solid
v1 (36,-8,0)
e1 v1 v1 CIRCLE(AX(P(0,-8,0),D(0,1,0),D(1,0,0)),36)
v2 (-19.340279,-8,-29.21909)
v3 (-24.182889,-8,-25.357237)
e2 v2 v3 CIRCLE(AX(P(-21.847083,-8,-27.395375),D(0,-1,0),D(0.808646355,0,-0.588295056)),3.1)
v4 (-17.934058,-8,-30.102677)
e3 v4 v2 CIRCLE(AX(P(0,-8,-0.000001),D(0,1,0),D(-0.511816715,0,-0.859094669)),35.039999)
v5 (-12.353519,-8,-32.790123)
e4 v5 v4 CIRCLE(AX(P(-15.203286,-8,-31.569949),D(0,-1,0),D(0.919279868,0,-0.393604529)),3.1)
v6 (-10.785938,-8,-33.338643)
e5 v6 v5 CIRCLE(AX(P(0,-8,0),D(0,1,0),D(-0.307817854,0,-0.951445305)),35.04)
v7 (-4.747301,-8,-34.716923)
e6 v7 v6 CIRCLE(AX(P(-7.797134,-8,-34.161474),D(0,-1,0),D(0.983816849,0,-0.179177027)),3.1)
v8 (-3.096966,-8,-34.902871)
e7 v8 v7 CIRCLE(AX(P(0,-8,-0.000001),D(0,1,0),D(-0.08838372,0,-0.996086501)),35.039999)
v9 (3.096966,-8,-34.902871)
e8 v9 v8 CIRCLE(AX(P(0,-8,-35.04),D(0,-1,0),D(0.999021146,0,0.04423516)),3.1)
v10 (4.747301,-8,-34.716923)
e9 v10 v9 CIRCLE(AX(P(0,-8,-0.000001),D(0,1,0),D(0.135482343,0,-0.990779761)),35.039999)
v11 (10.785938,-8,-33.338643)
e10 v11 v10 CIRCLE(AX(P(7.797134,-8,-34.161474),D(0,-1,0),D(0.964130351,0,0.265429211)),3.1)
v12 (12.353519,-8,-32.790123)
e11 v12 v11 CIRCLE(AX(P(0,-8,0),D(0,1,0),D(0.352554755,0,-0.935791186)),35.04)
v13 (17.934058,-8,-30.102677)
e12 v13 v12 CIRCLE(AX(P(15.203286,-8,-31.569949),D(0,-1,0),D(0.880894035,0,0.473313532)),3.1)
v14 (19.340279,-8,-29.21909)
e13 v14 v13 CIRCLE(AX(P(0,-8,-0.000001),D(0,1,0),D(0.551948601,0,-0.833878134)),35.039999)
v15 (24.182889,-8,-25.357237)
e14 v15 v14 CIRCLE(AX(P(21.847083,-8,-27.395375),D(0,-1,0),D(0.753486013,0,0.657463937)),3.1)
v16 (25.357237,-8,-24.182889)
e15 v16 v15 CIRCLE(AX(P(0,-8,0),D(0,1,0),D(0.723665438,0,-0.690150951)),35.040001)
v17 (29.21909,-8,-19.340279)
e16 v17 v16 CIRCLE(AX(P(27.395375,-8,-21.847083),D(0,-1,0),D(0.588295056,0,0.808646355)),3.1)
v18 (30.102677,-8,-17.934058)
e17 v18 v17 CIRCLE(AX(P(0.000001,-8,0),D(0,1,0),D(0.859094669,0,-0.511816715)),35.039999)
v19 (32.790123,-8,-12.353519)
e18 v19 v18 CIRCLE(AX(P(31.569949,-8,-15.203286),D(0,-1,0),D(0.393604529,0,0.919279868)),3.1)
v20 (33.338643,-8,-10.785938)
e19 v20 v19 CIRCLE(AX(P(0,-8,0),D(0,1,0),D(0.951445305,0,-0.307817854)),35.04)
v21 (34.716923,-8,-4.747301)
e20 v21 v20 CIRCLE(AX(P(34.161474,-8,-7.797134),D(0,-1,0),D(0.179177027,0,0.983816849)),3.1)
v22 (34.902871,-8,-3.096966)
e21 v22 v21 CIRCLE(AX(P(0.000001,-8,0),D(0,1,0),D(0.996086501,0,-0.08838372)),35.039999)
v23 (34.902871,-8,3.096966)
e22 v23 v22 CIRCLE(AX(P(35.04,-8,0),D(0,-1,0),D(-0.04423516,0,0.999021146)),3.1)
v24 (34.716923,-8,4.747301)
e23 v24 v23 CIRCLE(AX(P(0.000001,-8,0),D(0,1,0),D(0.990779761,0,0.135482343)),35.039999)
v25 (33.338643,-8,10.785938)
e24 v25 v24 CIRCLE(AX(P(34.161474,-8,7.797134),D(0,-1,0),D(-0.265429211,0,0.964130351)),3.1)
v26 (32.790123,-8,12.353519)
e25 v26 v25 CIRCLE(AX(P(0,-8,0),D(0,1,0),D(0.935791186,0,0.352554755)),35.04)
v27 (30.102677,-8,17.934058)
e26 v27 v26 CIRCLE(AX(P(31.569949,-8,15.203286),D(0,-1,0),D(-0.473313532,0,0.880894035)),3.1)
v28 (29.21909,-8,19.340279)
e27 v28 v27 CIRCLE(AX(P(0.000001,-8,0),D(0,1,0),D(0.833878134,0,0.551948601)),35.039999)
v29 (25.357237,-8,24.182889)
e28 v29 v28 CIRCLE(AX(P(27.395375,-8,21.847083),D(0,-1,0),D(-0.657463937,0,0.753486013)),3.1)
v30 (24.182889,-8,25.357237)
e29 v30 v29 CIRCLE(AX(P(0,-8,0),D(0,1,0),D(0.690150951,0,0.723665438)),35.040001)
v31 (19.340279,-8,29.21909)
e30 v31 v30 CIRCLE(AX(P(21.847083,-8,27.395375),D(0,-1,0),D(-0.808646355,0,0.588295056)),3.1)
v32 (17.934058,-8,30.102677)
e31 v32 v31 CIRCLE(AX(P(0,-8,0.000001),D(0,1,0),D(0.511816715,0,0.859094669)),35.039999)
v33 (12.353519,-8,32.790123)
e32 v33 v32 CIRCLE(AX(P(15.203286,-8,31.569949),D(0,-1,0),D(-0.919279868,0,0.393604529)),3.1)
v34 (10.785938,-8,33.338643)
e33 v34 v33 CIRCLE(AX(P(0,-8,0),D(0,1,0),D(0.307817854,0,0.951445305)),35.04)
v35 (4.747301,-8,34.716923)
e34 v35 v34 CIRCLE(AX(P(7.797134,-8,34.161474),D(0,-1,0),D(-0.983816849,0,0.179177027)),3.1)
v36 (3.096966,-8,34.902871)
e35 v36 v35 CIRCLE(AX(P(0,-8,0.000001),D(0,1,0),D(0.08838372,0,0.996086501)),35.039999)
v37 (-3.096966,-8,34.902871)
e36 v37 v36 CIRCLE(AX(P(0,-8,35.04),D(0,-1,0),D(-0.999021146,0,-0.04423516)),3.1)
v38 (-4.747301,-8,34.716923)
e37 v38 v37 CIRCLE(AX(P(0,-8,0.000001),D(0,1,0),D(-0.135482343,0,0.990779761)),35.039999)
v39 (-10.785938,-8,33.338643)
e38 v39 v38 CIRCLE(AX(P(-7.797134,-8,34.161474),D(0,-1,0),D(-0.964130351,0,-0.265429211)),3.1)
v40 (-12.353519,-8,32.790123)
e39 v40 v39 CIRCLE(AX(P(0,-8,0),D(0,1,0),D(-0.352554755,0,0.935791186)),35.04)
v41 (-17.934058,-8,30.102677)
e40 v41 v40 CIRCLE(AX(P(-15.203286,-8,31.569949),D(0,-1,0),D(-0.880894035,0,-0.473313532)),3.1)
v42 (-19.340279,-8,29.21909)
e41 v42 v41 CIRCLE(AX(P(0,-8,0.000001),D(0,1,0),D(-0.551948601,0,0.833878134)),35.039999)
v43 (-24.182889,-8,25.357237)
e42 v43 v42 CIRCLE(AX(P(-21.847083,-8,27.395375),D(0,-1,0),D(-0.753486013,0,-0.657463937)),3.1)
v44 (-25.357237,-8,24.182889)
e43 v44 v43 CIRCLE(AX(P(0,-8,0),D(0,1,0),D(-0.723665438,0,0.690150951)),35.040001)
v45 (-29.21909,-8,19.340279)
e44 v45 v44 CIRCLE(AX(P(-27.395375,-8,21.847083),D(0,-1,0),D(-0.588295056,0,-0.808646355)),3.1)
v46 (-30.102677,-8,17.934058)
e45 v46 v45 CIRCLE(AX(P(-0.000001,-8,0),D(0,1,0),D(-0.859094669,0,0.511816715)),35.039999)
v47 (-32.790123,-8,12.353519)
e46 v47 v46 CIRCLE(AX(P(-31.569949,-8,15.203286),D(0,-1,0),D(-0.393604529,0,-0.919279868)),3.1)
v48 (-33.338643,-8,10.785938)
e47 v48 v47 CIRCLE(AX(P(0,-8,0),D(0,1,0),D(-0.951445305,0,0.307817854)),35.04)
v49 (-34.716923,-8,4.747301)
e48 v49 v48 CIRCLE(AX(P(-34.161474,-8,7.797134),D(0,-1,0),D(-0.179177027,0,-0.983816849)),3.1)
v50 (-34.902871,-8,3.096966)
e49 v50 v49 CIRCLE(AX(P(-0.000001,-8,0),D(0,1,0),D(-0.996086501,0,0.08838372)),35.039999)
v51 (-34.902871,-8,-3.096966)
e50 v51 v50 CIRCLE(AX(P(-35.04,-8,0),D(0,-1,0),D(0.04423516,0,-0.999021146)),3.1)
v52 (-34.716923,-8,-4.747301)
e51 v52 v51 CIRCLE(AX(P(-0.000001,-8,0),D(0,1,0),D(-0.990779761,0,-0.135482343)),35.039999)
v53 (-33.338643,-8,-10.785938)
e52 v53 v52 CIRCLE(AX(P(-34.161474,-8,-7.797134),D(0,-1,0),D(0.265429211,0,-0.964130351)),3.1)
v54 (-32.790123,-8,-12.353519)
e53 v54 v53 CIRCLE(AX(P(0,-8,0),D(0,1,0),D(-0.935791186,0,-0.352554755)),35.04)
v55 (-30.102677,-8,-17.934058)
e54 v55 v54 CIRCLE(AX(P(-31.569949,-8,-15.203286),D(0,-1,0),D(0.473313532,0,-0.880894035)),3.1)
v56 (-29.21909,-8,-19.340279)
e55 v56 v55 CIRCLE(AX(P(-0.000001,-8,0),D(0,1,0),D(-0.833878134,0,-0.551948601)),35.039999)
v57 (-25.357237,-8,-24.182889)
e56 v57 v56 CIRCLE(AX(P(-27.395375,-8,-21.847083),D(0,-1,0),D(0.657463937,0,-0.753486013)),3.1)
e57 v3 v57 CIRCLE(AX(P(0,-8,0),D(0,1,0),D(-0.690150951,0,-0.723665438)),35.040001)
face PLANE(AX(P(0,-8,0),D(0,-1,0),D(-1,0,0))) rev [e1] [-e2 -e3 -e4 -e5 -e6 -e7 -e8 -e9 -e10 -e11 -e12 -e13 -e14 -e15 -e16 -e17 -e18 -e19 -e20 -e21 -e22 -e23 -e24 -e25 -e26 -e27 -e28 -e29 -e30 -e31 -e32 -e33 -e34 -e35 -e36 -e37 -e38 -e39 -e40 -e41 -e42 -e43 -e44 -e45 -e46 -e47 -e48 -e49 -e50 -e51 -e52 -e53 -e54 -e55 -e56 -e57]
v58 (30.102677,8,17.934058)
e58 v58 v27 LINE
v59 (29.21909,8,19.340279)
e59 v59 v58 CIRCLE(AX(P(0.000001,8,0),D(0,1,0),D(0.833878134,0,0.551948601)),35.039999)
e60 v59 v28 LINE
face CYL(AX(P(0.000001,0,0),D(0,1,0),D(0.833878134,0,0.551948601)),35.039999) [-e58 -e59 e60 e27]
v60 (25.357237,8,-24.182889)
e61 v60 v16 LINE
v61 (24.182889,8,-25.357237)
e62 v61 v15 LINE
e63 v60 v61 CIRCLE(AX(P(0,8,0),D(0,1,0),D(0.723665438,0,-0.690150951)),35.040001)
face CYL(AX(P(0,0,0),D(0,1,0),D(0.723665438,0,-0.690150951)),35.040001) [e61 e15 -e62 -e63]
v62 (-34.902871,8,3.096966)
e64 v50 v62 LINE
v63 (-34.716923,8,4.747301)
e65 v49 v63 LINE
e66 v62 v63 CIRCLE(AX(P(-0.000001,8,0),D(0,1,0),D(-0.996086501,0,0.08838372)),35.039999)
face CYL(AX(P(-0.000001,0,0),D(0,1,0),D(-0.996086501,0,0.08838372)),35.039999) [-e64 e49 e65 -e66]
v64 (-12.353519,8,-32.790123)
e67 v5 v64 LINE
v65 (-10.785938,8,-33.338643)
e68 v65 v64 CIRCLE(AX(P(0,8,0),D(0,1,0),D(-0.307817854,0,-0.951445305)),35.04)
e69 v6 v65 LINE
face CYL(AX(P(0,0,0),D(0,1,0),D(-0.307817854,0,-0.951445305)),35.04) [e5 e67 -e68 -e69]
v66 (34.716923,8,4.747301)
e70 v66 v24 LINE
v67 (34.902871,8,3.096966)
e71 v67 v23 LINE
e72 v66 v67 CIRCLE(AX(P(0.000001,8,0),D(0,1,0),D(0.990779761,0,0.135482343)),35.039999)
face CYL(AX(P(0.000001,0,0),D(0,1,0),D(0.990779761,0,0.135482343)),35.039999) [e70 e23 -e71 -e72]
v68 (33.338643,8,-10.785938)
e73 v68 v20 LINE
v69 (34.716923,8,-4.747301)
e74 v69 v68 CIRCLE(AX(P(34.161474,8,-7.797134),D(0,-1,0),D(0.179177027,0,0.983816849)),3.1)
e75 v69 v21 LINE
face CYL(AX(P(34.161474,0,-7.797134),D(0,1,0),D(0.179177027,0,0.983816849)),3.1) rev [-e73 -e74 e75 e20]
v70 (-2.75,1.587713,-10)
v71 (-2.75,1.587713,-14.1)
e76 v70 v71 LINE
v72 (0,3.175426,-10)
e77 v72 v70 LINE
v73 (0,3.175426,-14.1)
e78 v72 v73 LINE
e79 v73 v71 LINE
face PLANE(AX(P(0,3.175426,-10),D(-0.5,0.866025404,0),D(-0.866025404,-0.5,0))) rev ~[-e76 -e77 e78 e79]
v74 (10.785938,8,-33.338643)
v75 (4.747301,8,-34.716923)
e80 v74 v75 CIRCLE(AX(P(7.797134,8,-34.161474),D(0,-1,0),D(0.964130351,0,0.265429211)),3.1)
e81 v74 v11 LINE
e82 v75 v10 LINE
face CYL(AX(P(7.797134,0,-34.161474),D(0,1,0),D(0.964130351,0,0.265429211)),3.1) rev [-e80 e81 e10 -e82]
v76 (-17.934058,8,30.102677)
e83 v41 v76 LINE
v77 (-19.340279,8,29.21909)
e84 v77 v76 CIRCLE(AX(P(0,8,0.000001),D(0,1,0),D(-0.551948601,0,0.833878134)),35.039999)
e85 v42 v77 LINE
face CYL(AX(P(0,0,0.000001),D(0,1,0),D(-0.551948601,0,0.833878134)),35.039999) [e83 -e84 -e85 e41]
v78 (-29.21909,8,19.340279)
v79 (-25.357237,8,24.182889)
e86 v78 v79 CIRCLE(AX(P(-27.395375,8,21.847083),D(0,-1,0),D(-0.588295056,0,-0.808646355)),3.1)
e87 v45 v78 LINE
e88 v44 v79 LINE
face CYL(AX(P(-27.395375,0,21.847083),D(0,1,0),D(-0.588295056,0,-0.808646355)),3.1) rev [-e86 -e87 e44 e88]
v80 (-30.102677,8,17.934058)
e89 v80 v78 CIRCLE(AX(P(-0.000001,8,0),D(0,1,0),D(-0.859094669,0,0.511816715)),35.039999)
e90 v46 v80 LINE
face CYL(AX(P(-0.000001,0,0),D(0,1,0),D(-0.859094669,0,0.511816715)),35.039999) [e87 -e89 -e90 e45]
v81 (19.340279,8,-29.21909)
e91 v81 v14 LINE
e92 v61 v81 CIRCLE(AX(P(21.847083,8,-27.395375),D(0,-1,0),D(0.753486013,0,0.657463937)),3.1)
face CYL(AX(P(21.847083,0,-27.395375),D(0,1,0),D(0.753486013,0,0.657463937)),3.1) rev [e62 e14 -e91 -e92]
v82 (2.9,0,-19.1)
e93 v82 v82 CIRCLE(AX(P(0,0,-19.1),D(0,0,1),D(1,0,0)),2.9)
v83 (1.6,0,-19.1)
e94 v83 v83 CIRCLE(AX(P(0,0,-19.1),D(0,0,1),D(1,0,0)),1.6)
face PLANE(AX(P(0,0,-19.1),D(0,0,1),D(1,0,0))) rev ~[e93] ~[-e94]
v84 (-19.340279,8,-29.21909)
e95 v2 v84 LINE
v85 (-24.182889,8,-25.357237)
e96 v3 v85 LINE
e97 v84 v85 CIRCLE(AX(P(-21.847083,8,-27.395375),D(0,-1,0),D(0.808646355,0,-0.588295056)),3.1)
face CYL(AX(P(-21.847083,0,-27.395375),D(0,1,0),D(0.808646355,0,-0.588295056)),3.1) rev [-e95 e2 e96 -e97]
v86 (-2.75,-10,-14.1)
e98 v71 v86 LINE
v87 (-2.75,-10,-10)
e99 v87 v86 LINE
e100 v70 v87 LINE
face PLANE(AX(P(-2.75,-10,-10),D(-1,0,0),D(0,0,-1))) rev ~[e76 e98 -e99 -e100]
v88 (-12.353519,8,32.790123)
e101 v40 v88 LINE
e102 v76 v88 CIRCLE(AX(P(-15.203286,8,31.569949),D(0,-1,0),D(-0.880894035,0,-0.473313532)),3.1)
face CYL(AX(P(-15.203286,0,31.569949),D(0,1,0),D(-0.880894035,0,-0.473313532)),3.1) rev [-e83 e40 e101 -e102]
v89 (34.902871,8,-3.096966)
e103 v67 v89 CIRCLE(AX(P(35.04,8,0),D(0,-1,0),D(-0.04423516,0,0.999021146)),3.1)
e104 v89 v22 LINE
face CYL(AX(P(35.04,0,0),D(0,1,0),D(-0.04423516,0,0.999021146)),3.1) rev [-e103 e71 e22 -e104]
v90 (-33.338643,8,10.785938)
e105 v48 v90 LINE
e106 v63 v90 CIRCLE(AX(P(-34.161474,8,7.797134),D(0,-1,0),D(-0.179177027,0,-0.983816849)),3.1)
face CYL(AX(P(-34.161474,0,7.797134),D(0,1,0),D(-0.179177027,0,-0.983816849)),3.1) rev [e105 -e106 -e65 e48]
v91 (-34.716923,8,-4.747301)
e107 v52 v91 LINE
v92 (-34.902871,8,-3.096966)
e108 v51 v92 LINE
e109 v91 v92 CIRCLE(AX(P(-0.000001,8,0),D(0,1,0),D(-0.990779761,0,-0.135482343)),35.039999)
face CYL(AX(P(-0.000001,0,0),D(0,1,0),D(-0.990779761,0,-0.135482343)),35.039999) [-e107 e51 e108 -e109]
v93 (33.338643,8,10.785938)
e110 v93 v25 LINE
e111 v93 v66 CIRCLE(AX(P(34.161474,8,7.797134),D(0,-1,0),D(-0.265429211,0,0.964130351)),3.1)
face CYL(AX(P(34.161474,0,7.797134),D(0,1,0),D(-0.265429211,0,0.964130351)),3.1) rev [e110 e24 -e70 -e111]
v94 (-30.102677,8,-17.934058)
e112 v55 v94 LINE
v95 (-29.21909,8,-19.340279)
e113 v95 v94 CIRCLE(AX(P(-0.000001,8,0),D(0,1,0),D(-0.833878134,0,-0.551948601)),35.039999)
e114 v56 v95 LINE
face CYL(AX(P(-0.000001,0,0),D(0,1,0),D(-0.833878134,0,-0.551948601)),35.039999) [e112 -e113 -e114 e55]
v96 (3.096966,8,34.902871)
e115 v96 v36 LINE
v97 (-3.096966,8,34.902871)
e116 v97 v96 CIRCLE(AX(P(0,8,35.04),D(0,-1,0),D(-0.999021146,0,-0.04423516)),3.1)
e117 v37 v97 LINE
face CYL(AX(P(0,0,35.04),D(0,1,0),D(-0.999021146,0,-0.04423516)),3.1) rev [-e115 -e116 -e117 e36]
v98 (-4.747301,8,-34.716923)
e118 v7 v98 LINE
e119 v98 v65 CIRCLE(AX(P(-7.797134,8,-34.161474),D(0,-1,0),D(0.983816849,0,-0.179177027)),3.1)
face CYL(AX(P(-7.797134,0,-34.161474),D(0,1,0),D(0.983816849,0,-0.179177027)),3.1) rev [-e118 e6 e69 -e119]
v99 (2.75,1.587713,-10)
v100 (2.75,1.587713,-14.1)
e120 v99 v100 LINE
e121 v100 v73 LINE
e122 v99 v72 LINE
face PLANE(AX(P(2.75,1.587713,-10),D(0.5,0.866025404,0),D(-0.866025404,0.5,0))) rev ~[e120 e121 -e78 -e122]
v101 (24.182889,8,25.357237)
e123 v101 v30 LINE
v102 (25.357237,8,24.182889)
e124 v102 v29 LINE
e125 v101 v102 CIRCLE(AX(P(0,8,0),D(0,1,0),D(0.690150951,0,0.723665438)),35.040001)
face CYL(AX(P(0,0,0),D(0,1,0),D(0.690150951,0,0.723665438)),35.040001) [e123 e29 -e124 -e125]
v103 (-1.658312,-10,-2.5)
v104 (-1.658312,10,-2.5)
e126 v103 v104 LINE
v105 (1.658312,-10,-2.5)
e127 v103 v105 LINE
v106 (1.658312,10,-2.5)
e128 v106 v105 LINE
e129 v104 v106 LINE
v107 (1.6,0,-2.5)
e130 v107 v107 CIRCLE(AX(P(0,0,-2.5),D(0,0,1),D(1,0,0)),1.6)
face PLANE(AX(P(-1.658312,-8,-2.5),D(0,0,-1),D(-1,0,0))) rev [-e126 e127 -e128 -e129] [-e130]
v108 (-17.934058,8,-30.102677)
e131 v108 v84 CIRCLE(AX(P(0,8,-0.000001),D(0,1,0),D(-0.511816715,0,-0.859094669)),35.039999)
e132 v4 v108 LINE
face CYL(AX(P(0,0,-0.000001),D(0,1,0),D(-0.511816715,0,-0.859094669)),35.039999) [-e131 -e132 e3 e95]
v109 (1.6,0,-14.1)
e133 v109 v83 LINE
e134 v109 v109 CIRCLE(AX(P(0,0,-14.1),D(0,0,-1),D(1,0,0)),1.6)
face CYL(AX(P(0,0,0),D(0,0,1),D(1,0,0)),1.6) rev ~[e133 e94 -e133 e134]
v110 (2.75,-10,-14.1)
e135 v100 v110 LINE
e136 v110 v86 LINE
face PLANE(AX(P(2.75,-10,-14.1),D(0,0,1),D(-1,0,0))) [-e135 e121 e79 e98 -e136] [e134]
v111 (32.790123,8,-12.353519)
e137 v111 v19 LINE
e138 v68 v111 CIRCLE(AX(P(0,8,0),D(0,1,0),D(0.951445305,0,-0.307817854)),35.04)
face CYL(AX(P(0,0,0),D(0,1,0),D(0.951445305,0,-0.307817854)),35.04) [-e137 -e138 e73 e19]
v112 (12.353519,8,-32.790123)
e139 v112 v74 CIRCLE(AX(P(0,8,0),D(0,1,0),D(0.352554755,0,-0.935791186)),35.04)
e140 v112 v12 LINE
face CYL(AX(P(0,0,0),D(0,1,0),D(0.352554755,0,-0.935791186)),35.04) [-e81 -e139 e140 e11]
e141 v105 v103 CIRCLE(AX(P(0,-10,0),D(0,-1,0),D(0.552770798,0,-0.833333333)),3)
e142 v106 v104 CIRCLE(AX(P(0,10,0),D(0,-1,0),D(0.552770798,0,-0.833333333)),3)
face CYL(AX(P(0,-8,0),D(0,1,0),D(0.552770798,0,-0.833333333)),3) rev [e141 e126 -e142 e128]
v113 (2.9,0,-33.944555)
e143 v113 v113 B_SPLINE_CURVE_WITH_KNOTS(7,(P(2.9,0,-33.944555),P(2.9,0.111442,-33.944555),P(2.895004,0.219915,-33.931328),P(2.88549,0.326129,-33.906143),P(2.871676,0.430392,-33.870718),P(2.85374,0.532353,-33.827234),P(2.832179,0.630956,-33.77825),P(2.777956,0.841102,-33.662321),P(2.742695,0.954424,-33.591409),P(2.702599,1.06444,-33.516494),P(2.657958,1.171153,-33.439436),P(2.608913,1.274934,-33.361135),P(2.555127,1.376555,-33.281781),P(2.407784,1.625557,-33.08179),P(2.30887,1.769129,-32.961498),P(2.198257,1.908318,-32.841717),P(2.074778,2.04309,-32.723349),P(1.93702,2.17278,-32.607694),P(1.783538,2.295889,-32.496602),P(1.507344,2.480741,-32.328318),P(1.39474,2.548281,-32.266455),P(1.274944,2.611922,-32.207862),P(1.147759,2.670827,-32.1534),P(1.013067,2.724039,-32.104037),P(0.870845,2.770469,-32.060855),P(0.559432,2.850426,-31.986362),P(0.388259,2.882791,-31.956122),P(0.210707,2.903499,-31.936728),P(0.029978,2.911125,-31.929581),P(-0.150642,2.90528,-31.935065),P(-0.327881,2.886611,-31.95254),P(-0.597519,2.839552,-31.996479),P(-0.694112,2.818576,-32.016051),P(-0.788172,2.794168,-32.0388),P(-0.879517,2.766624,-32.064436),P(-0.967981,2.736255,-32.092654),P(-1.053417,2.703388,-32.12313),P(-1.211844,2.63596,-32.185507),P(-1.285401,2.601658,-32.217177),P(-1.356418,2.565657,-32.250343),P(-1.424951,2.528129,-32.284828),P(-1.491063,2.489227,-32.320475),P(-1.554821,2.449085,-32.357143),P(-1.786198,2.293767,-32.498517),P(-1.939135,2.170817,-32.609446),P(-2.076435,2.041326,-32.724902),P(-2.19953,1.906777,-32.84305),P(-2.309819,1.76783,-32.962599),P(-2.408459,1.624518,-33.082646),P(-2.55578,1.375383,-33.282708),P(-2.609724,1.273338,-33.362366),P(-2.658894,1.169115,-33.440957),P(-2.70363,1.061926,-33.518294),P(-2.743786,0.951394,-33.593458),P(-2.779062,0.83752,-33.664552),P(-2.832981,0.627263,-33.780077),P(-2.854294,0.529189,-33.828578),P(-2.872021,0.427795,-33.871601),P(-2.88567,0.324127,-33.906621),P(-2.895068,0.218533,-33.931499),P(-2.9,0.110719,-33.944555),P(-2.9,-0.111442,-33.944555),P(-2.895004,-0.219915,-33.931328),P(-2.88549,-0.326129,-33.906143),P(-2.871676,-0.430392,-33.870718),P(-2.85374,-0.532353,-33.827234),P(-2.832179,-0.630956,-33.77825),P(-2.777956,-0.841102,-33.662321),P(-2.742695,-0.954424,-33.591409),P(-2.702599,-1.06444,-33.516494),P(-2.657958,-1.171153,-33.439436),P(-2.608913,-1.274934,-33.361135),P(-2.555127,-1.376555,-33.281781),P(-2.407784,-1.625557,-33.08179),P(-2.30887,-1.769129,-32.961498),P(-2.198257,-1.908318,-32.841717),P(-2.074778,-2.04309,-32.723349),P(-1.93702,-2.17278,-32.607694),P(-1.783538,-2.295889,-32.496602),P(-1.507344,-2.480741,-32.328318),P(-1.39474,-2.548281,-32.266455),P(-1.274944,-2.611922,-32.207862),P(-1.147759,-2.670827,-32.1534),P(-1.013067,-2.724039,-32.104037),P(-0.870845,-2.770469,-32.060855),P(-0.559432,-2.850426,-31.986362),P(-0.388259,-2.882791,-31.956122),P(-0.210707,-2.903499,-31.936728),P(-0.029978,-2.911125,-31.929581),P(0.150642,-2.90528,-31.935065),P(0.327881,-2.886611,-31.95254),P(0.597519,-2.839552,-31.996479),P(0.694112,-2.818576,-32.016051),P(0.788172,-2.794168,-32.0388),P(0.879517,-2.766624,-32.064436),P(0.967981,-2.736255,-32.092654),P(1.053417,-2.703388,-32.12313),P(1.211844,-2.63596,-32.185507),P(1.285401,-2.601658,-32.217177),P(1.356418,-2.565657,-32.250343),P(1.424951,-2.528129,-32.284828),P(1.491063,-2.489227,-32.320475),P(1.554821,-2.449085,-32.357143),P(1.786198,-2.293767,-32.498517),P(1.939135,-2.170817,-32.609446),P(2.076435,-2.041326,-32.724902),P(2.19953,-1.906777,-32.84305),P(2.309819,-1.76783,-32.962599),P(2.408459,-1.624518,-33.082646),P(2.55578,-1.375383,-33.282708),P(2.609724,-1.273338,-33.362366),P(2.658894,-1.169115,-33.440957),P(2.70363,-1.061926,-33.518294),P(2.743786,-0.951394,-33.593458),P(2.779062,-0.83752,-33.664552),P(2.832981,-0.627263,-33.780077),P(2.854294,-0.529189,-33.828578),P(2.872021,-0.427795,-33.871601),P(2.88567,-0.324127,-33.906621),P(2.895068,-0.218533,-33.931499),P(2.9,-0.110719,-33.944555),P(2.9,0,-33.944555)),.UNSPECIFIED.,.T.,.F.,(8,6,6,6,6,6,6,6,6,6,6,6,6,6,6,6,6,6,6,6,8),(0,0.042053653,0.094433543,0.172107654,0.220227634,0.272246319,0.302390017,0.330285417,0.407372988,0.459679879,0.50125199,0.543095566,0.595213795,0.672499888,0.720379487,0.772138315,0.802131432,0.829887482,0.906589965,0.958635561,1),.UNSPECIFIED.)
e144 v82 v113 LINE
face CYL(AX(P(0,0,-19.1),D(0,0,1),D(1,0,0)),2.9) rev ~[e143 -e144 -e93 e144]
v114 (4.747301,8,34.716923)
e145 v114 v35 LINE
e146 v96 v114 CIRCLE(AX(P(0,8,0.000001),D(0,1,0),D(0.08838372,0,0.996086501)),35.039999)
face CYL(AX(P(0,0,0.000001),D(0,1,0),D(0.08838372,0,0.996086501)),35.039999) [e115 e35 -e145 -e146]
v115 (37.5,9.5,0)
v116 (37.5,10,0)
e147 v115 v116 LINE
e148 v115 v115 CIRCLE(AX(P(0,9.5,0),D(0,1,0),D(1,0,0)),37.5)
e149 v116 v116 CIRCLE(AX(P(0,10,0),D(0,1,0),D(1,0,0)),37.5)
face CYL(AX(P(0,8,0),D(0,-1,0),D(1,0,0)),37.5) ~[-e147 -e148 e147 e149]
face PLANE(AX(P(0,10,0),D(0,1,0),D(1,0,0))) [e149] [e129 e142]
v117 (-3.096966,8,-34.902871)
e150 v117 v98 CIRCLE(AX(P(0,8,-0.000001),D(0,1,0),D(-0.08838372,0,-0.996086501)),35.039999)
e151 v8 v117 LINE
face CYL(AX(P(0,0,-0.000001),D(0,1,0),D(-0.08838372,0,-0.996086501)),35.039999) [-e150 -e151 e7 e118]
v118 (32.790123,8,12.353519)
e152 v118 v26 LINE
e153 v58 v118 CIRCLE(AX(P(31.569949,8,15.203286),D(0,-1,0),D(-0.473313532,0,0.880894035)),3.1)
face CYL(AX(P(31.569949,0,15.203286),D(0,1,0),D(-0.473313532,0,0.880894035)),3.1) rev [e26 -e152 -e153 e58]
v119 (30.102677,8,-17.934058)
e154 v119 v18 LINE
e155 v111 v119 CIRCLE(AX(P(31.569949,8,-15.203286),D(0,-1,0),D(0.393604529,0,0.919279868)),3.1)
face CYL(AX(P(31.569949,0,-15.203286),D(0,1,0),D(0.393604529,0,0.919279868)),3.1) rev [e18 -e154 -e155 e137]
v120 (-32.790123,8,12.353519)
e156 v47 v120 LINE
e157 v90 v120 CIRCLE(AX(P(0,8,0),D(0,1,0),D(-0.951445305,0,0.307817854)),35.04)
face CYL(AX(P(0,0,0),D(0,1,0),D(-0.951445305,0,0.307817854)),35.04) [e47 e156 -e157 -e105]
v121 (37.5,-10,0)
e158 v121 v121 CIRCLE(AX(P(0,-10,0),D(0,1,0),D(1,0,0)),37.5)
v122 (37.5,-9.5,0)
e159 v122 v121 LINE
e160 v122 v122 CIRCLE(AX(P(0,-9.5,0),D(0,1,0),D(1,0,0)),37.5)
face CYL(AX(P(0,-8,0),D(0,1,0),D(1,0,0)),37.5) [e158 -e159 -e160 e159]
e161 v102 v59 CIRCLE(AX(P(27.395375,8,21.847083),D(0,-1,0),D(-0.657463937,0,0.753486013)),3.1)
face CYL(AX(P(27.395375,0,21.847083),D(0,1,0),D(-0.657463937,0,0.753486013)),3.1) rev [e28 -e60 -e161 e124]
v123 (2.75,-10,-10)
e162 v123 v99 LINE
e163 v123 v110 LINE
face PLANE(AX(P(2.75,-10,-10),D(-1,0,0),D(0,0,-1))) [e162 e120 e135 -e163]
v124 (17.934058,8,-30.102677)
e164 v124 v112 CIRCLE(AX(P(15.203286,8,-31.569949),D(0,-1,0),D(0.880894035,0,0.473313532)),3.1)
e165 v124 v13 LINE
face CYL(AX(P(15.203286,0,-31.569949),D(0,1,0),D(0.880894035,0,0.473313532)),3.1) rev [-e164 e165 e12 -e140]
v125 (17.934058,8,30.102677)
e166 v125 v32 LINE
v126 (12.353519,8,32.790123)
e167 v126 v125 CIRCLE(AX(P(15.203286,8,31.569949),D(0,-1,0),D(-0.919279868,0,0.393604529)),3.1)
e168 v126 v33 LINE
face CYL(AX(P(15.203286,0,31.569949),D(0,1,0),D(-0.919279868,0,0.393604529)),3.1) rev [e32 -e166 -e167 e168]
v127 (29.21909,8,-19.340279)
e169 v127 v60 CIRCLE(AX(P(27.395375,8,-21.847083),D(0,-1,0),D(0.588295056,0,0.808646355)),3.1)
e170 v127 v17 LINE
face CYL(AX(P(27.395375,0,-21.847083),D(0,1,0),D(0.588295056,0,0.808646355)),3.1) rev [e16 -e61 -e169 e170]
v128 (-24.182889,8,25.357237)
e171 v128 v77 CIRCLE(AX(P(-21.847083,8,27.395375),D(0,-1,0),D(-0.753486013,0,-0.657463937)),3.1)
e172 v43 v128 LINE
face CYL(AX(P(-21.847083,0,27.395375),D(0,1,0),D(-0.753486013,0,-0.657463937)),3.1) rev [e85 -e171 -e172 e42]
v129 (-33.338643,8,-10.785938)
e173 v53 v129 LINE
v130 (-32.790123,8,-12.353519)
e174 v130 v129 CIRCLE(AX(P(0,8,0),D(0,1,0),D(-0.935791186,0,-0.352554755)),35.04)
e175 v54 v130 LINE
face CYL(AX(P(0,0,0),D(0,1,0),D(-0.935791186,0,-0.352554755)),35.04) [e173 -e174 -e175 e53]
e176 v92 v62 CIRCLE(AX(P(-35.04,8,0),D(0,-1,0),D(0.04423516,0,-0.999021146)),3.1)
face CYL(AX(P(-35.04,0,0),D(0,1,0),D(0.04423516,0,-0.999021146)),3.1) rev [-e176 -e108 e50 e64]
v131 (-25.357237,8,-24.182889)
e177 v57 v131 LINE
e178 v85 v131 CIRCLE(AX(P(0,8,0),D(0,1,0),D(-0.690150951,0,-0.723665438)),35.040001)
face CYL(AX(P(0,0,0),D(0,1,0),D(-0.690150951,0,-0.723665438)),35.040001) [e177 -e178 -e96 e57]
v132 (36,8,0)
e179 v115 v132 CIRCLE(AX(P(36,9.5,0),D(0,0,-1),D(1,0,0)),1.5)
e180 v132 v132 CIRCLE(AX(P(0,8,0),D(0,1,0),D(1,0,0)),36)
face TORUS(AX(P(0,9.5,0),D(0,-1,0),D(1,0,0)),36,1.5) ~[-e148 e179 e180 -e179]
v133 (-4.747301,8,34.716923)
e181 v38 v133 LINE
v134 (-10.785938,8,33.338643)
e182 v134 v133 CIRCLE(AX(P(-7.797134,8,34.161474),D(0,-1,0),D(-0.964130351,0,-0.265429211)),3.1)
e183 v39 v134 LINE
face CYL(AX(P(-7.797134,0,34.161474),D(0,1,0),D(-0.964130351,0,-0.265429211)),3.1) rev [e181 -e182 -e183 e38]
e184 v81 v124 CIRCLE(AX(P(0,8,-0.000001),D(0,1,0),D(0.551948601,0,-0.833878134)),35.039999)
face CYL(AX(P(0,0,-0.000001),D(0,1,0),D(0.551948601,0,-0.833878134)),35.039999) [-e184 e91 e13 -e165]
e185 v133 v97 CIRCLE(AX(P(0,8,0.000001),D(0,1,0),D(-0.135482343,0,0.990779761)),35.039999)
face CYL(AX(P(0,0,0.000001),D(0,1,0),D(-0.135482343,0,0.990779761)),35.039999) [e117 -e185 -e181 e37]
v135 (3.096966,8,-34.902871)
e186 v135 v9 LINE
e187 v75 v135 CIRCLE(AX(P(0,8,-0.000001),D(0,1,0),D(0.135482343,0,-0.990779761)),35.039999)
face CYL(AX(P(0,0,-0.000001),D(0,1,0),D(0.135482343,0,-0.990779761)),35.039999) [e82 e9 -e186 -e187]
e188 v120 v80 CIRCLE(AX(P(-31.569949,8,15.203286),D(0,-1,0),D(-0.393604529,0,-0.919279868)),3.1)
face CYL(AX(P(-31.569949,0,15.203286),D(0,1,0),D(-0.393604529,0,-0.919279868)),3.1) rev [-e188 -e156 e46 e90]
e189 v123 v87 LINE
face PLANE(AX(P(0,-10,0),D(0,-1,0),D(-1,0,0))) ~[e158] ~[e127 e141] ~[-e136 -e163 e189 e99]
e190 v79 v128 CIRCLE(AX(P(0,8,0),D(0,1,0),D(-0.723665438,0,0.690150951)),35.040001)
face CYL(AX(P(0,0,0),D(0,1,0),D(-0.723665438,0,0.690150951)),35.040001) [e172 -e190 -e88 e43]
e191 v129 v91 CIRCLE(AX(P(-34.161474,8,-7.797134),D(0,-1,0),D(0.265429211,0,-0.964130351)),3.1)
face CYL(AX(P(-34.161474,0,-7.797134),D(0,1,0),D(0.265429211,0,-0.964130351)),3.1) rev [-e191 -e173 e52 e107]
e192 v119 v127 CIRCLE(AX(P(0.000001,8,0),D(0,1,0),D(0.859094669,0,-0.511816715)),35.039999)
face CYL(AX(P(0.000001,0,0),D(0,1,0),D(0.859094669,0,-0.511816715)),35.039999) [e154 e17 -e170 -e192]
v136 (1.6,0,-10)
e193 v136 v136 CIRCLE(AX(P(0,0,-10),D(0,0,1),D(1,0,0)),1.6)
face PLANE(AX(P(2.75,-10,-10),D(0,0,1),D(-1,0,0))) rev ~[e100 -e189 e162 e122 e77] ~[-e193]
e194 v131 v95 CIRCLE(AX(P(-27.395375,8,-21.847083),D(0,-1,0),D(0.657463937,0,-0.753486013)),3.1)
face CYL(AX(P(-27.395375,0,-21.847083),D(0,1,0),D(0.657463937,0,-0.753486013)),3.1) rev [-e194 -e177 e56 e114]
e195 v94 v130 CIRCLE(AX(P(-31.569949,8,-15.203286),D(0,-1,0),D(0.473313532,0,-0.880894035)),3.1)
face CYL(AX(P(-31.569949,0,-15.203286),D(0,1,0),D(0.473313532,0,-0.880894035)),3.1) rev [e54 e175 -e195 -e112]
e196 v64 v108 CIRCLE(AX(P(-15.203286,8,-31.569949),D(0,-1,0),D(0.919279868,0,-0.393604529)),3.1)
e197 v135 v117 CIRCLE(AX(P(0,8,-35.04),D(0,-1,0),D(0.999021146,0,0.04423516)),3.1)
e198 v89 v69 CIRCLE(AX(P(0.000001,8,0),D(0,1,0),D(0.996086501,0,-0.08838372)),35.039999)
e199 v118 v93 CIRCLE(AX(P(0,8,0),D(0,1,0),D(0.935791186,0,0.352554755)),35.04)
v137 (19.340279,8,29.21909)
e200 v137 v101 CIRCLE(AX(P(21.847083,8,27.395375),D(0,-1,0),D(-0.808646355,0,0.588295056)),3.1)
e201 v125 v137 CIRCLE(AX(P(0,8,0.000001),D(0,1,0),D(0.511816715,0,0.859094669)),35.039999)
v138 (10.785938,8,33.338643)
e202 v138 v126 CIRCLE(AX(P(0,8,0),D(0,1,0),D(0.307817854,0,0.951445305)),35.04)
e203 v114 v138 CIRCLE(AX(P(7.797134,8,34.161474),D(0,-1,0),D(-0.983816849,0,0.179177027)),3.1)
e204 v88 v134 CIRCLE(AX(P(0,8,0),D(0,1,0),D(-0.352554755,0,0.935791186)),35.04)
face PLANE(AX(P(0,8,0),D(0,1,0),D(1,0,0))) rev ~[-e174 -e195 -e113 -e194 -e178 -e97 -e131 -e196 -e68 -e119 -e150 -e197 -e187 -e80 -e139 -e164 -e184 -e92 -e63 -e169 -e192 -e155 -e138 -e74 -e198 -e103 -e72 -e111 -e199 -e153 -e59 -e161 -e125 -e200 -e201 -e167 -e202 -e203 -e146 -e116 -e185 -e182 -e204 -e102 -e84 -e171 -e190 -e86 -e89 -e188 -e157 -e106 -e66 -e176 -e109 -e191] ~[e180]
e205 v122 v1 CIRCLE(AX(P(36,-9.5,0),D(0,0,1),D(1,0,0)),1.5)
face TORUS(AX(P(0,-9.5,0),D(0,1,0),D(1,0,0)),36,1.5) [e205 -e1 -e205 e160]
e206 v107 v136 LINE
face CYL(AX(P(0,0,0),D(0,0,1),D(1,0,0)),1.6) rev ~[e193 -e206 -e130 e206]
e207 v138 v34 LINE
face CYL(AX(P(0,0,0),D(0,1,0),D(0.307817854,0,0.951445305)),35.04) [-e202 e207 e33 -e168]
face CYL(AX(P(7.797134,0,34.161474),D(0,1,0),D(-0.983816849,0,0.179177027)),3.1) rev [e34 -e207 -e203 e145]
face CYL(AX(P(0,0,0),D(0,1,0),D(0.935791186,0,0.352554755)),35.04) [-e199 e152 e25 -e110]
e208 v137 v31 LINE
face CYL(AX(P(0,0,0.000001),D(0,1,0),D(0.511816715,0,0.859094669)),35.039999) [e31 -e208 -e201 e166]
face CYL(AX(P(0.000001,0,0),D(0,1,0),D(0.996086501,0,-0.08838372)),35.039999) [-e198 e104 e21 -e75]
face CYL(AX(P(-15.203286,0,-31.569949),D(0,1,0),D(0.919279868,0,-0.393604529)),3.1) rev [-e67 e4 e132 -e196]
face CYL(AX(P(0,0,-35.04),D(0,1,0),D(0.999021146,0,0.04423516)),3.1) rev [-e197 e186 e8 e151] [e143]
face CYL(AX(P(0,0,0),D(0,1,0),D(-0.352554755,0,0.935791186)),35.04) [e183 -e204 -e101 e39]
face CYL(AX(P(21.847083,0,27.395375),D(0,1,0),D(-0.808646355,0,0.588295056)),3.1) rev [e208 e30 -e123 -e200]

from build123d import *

# Parameters (mm, degrees)
BOSS_EXTRUDE1_DEPTH  = 8
SKETCH2_R            = 37.5
BOSS_EXTRUDE2_DEPTH  = 2
FILLET1_R            = 1.5
FILLET1_OF_MIRROR1_R = 1.5
SKETCH3_R            = 1.6
CUT_EXTRUDE1_DEPTH   = 38.5000001
CUT_EXTRUDE2_START   = -10
SKETCH3_3_R          = 1.6
CUT_EXTRUDE2_DEPTH   = 4.1
SKETCH4_W            = 5.5
SKETCH4_H            = 4.1
CUT_EXTRUDE3_DEPTH   = 10
CUT_EXTRUDE4_START   = -5
SKETCH5_R            = 2.9
CUT_EXTRUDE4_DEPTH   = 19.4000001


with BuildPart() as part:
    # Sketch1 → Boss-Extrude1 (new body, symmetric)
    with BuildSketch(Plane(origin=(0, 0, 0), x_dir=(1, 0, 0), z_dir=(0, 1, 0))):
        with BuildLine():
            ThreePointArc((3.096965553, 34.902871005), (0, 31.94), (-3.096965553, 34.902871005))
            ThreePointArc((-3.096965553, 34.902871005), (-3.923235243, 34.819675835), (-4.747301293, 34.716922825))
            ThreePointArc((-4.747301293, 34.716922825), (-7.107318631, 31.139197515), (-10.785937615, 33.33864349))
            ThreePointArc((-10.785937615, 33.33864349), (-11.572978331, 33.073671894), (-12.353518629, 32.79012317))
            ThreePointArc((-12.353518629, 32.79012317), (-13.858246627, 28.776945641), (-17.934057726, 30.102677181))
            ThreePointArc((-17.934057726, 30.102677181), (-18.642403961, 29.669215941), (-19.340278957, 29.219089819))
            ThreePointArc((-19.340278957, 29.219089819), (-19.914264271, 24.97169755), (-24.182889297, 25.357236941))
            ThreePointArc((-24.182889297, 25.357236941), (-24.777021613, 24.777021613), (-25.357236941, 24.182889297))
            ThreePointArc((-25.357236941, 24.182889297), (-24.97169755, 19.914264271), (-29.219089819, 19.340278957))
            ThreePointArc((-29.219089819, 19.340278957), (-29.669215941, 18.642403961), (-30.102677181, 17.934057726))
            ThreePointArc((-30.102677181, 17.934057726), (-28.776945641, 13.858246627), (-32.79012317, 12.353518629))
            ThreePointArc((-32.79012317, 12.353518629), (-33.073671894, 11.572978331), (-33.33864349, 10.785937615))
            ThreePointArc((-33.33864349, 10.785937615), (-31.139197515, 7.107318631), (-34.716922825, 4.747301293))
            ThreePointArc((-34.716922825, 4.747301293), (-34.819675835, 3.923235243), (-34.902871005, 3.096965553))
            ThreePointArc((-34.902871005, 3.096965553), (-31.94, 0), (-34.902871005, -3.096965553))
            ThreePointArc((-34.902871005, -3.096965553), (-34.819675835, -3.923235243), (-34.716922825, -4.747301293))
            ThreePointArc((-34.716922825, -4.747301293), (-31.139197515, -7.107318631), (-33.33864349, -10.785937615))
            ThreePointArc((-33.33864349, -10.785937615), (-33.073671894, -11.572978331), (-32.79012317, -12.353518629))
            ThreePointArc((-32.79012317, -12.353518629), (-28.776945641, -13.858246627), (-30.102677181, -17.934057726))
            ThreePointArc((-30.102677181, -17.934057726), (-29.669215941, -18.642403961), (-29.219089819, -19.340278957))
            ThreePointArc((-29.219089819, -19.340278957), (-24.97169755, -19.914264271), (-25.357236941, -24.182889297))
            ThreePointArc((-25.357236941, -24.182889297), (-24.777021613, -24.777021613), (-24.182889297, -25.357236941))
            ThreePointArc((-24.182889297, -25.357236941), (-19.914264271, -24.97169755), (-19.340278957, -29.219089819))
            ThreePointArc((-19.340278957, -29.219089819), (-18.642403961, -29.669215941), (-17.934057726, -30.102677181))
            ThreePointArc((-17.934057726, -30.102677181), (-13.858246627, -28.776945641), (-12.353518629, -32.79012317))
            ThreePointArc((-12.353518629, -32.79012317), (-11.572978331, -33.073671894), (-10.785937615, -33.33864349))
            ThreePointArc((-10.785937615, -33.33864349), (-7.107318631, -31.139197515), (-4.747301293, -34.716922825))
            ThreePointArc((-4.747301293, -34.716922825), (-3.923235243, -34.819675835), (-3.096965553, -34.902871005))
            ThreePointArc((-3.096965553, -34.902871005), (0, -31.94), (3.096965553, -34.902871005))
            ThreePointArc((3.096965553, -34.902871005), (3.923235243, -34.819675835), (4.747301293, -34.716922825))
            ThreePointArc((4.747301293, -34.716922825), (7.107318631, -31.139197515), (10.785937615, -33.33864349))
            ThreePointArc((10.785937615, -33.33864349), (11.572978331, -33.073671894), (12.353518629, -32.79012317))
            ThreePointArc((12.353518629, -32.79012317), (13.858246627, -28.776945641), (17.934057726, -30.102677181))
            ThreePointArc((17.934057726, -30.102677181), (18.642403961, -29.669215941), (19.340278957, -29.219089819))
            ThreePointArc((19.340278957, -29.219089819), (19.914264271, -24.97169755), (24.182889297, -25.357236941))
            ThreePointArc((24.182889297, -25.357236941), (24.777021613, -24.777021613), (25.357236941, -24.182889297))
            ThreePointArc((25.357236941, -24.182889297), (24.97169755, -19.914264271), (29.219089819, -19.340278957))
            ThreePointArc((29.219089819, -19.340278957), (29.669215941, -18.642403961), (30.102677181, -17.934057726))
            ThreePointArc((30.102677181, -17.934057726), (28.776945641, -13.858246627), (32.79012317, -12.353518629))
            ThreePointArc((32.79012317, -12.353518629), (33.073671894, -11.572978331), (33.33864349, -10.785937615))
            ThreePointArc((33.33864349, -10.785937615), (31.139197515, -7.107318631), (34.716922825, -4.747301293))
            ThreePointArc((34.716922825, -4.747301293), (34.819675835, -3.923235243), (34.902871005, -3.096965553))
            ThreePointArc((34.902871005, -3.096965553), (31.94, 0), (34.902871005, 3.096965553))
            ThreePointArc((34.902871005, 3.096965553), (34.819675835, 3.923235243), (34.716922825, 4.747301293))
            ThreePointArc((34.716922825, 4.747301293), (31.139197515, 7.107318631), (33.33864349, 10.785937615))
            ThreePointArc((33.33864349, 10.785937615), (33.073671894, 11.572978331), (32.79012317, 12.353518629))
            ThreePointArc((32.79012317, 12.353518629), (28.776945641, 13.858246627), (30.102677181, 17.934057726))
            ThreePointArc((30.102677181, 17.934057726), (29.669215941, 18.642403961), (29.219089819, 19.340278957))
            ThreePointArc((29.219089819, 19.340278957), (24.97169755, 19.914264271), (25.357236941, 24.182889297))
            ThreePointArc((25.357236941, 24.182889297), (24.777021613, 24.777021613), (24.182889297, 25.357236941))
            ThreePointArc((24.182889297, 25.357236941), (19.914264271, 24.97169755), (19.340278957, 29.219089819))
            ThreePointArc((19.340278957, 29.219089819), (18.642403961, 29.669215941), (17.934057726, 30.102677181))
            ThreePointArc((17.934057726, 30.102677181), (13.858246627, 28.776945641), (12.353518629, 32.79012317))
            ThreePointArc((12.353518629, 32.79012317), (11.572978331, 33.073671894), (10.785937615, 33.33864349))
            ThreePointArc((10.785937615, 33.33864349), (7.107318631, 31.139197515), (4.747301293, 34.716922825))
            ThreePointArc((4.747301293, 34.716922825), (3.923235243, 34.819675835), (3.096965553, 34.902871005))
        make_face()
        with BuildLine():
            ThreePointArc((1.658312395, 2.5), (0, -3), (-1.658312395, 2.5))
            Line((-1.658312395, 2.5), (1.658312395, 2.5))
        make_face(mode=Mode.SUBTRACT)
    extrude(amount=BOSS_EXTRUDE1_DEPTH, both=True)

    # Sketch2 → Boss-Extrude2 (add)
    with BuildSketch(Plane(origin=(0, 8, 0), x_dir=(1, 0, 0), z_dir=(0, 1, 0))):
        Circle(SKETCH2_R)
        with BuildLine():
            Line((-1.658312395, 2.5), (1.658312395, 2.5))
            ThreePointArc((1.658312395, 2.5), (0, -3), (-1.658312395, 2.5))
        make_face(mode=Mode.SUBTRACT)
    boss_extrude2 = extrude(amount=BOSS_EXTRUDE2_DEPTH)

    # Fillet1
    fillet1_edges = [part.edges().sort_by_distance(p)[0] for p in [
        (-37.5, 8, 0),
    ]]
    fillet(fillet1_edges, radius=FILLET1_R)

    # Mirror1: Boss-Extrude2 across plane
    add(boss_extrude2.mirror(Plane.ZX))

    # Fillet1 of Mirror1
    fillet1_of_mirror1_edges = [part.edges().sort_by_distance(p)[0] for p in [
        (-37.5, -8, 0),
    ]]
    fillet(fillet1_of_mirror1_edges, radius=FILLET1_OF_MIRROR1_R)

    # Sketch3 → Cut-Extrude1 (cut, through all)
    with BuildSketch(Plane.XY):
        Circle(SKETCH3_R)
    extrude(amount=-CUT_EXTRUDE1_DEPTH, mode=Mode.SUBTRACT)

    # Sketch3_3 → Cut-Extrude2 (cut)
    with BuildSketch(Plane.XY.offset(CUT_EXTRUDE2_START)):
        Polygon((0, -3.175426481), (2.75, -1.58771324), (2.75, 1.58771324), (0, 3.175426481), (-2.75, 1.58771324), (-2.75, -1.58771324), align=None)
        Circle(SKETCH3_3_R, mode=Mode.SUBTRACT)
    extrude(amount=-CUT_EXTRUDE2_DEPTH, mode=Mode.SUBTRACT)

    # Sketch4 → Cut-Extrude3 (cut)
    with BuildSketch(Plane(origin=(0, -10, 0), x_dir=(-1, 0, 0), z_dir=(0, -1, 0))):
        with Locations((0, 12.05)):
            Rectangle(SKETCH4_W, SKETCH4_H)
    extrude(amount=-CUT_EXTRUDE3_DEPTH, mode=Mode.SUBTRACT)

    # Sketch5 → Cut-Extrude4 (cut, through all)
    with BuildSketch(Plane.XY.offset(-14.1).offset(CUT_EXTRUDE4_START)):
        Circle(SKETCH5_R)
    extrude(amount=-CUT_EXTRUDE4_DEPTH, mode=Mode.SUBTRACT)


solid = part.part
